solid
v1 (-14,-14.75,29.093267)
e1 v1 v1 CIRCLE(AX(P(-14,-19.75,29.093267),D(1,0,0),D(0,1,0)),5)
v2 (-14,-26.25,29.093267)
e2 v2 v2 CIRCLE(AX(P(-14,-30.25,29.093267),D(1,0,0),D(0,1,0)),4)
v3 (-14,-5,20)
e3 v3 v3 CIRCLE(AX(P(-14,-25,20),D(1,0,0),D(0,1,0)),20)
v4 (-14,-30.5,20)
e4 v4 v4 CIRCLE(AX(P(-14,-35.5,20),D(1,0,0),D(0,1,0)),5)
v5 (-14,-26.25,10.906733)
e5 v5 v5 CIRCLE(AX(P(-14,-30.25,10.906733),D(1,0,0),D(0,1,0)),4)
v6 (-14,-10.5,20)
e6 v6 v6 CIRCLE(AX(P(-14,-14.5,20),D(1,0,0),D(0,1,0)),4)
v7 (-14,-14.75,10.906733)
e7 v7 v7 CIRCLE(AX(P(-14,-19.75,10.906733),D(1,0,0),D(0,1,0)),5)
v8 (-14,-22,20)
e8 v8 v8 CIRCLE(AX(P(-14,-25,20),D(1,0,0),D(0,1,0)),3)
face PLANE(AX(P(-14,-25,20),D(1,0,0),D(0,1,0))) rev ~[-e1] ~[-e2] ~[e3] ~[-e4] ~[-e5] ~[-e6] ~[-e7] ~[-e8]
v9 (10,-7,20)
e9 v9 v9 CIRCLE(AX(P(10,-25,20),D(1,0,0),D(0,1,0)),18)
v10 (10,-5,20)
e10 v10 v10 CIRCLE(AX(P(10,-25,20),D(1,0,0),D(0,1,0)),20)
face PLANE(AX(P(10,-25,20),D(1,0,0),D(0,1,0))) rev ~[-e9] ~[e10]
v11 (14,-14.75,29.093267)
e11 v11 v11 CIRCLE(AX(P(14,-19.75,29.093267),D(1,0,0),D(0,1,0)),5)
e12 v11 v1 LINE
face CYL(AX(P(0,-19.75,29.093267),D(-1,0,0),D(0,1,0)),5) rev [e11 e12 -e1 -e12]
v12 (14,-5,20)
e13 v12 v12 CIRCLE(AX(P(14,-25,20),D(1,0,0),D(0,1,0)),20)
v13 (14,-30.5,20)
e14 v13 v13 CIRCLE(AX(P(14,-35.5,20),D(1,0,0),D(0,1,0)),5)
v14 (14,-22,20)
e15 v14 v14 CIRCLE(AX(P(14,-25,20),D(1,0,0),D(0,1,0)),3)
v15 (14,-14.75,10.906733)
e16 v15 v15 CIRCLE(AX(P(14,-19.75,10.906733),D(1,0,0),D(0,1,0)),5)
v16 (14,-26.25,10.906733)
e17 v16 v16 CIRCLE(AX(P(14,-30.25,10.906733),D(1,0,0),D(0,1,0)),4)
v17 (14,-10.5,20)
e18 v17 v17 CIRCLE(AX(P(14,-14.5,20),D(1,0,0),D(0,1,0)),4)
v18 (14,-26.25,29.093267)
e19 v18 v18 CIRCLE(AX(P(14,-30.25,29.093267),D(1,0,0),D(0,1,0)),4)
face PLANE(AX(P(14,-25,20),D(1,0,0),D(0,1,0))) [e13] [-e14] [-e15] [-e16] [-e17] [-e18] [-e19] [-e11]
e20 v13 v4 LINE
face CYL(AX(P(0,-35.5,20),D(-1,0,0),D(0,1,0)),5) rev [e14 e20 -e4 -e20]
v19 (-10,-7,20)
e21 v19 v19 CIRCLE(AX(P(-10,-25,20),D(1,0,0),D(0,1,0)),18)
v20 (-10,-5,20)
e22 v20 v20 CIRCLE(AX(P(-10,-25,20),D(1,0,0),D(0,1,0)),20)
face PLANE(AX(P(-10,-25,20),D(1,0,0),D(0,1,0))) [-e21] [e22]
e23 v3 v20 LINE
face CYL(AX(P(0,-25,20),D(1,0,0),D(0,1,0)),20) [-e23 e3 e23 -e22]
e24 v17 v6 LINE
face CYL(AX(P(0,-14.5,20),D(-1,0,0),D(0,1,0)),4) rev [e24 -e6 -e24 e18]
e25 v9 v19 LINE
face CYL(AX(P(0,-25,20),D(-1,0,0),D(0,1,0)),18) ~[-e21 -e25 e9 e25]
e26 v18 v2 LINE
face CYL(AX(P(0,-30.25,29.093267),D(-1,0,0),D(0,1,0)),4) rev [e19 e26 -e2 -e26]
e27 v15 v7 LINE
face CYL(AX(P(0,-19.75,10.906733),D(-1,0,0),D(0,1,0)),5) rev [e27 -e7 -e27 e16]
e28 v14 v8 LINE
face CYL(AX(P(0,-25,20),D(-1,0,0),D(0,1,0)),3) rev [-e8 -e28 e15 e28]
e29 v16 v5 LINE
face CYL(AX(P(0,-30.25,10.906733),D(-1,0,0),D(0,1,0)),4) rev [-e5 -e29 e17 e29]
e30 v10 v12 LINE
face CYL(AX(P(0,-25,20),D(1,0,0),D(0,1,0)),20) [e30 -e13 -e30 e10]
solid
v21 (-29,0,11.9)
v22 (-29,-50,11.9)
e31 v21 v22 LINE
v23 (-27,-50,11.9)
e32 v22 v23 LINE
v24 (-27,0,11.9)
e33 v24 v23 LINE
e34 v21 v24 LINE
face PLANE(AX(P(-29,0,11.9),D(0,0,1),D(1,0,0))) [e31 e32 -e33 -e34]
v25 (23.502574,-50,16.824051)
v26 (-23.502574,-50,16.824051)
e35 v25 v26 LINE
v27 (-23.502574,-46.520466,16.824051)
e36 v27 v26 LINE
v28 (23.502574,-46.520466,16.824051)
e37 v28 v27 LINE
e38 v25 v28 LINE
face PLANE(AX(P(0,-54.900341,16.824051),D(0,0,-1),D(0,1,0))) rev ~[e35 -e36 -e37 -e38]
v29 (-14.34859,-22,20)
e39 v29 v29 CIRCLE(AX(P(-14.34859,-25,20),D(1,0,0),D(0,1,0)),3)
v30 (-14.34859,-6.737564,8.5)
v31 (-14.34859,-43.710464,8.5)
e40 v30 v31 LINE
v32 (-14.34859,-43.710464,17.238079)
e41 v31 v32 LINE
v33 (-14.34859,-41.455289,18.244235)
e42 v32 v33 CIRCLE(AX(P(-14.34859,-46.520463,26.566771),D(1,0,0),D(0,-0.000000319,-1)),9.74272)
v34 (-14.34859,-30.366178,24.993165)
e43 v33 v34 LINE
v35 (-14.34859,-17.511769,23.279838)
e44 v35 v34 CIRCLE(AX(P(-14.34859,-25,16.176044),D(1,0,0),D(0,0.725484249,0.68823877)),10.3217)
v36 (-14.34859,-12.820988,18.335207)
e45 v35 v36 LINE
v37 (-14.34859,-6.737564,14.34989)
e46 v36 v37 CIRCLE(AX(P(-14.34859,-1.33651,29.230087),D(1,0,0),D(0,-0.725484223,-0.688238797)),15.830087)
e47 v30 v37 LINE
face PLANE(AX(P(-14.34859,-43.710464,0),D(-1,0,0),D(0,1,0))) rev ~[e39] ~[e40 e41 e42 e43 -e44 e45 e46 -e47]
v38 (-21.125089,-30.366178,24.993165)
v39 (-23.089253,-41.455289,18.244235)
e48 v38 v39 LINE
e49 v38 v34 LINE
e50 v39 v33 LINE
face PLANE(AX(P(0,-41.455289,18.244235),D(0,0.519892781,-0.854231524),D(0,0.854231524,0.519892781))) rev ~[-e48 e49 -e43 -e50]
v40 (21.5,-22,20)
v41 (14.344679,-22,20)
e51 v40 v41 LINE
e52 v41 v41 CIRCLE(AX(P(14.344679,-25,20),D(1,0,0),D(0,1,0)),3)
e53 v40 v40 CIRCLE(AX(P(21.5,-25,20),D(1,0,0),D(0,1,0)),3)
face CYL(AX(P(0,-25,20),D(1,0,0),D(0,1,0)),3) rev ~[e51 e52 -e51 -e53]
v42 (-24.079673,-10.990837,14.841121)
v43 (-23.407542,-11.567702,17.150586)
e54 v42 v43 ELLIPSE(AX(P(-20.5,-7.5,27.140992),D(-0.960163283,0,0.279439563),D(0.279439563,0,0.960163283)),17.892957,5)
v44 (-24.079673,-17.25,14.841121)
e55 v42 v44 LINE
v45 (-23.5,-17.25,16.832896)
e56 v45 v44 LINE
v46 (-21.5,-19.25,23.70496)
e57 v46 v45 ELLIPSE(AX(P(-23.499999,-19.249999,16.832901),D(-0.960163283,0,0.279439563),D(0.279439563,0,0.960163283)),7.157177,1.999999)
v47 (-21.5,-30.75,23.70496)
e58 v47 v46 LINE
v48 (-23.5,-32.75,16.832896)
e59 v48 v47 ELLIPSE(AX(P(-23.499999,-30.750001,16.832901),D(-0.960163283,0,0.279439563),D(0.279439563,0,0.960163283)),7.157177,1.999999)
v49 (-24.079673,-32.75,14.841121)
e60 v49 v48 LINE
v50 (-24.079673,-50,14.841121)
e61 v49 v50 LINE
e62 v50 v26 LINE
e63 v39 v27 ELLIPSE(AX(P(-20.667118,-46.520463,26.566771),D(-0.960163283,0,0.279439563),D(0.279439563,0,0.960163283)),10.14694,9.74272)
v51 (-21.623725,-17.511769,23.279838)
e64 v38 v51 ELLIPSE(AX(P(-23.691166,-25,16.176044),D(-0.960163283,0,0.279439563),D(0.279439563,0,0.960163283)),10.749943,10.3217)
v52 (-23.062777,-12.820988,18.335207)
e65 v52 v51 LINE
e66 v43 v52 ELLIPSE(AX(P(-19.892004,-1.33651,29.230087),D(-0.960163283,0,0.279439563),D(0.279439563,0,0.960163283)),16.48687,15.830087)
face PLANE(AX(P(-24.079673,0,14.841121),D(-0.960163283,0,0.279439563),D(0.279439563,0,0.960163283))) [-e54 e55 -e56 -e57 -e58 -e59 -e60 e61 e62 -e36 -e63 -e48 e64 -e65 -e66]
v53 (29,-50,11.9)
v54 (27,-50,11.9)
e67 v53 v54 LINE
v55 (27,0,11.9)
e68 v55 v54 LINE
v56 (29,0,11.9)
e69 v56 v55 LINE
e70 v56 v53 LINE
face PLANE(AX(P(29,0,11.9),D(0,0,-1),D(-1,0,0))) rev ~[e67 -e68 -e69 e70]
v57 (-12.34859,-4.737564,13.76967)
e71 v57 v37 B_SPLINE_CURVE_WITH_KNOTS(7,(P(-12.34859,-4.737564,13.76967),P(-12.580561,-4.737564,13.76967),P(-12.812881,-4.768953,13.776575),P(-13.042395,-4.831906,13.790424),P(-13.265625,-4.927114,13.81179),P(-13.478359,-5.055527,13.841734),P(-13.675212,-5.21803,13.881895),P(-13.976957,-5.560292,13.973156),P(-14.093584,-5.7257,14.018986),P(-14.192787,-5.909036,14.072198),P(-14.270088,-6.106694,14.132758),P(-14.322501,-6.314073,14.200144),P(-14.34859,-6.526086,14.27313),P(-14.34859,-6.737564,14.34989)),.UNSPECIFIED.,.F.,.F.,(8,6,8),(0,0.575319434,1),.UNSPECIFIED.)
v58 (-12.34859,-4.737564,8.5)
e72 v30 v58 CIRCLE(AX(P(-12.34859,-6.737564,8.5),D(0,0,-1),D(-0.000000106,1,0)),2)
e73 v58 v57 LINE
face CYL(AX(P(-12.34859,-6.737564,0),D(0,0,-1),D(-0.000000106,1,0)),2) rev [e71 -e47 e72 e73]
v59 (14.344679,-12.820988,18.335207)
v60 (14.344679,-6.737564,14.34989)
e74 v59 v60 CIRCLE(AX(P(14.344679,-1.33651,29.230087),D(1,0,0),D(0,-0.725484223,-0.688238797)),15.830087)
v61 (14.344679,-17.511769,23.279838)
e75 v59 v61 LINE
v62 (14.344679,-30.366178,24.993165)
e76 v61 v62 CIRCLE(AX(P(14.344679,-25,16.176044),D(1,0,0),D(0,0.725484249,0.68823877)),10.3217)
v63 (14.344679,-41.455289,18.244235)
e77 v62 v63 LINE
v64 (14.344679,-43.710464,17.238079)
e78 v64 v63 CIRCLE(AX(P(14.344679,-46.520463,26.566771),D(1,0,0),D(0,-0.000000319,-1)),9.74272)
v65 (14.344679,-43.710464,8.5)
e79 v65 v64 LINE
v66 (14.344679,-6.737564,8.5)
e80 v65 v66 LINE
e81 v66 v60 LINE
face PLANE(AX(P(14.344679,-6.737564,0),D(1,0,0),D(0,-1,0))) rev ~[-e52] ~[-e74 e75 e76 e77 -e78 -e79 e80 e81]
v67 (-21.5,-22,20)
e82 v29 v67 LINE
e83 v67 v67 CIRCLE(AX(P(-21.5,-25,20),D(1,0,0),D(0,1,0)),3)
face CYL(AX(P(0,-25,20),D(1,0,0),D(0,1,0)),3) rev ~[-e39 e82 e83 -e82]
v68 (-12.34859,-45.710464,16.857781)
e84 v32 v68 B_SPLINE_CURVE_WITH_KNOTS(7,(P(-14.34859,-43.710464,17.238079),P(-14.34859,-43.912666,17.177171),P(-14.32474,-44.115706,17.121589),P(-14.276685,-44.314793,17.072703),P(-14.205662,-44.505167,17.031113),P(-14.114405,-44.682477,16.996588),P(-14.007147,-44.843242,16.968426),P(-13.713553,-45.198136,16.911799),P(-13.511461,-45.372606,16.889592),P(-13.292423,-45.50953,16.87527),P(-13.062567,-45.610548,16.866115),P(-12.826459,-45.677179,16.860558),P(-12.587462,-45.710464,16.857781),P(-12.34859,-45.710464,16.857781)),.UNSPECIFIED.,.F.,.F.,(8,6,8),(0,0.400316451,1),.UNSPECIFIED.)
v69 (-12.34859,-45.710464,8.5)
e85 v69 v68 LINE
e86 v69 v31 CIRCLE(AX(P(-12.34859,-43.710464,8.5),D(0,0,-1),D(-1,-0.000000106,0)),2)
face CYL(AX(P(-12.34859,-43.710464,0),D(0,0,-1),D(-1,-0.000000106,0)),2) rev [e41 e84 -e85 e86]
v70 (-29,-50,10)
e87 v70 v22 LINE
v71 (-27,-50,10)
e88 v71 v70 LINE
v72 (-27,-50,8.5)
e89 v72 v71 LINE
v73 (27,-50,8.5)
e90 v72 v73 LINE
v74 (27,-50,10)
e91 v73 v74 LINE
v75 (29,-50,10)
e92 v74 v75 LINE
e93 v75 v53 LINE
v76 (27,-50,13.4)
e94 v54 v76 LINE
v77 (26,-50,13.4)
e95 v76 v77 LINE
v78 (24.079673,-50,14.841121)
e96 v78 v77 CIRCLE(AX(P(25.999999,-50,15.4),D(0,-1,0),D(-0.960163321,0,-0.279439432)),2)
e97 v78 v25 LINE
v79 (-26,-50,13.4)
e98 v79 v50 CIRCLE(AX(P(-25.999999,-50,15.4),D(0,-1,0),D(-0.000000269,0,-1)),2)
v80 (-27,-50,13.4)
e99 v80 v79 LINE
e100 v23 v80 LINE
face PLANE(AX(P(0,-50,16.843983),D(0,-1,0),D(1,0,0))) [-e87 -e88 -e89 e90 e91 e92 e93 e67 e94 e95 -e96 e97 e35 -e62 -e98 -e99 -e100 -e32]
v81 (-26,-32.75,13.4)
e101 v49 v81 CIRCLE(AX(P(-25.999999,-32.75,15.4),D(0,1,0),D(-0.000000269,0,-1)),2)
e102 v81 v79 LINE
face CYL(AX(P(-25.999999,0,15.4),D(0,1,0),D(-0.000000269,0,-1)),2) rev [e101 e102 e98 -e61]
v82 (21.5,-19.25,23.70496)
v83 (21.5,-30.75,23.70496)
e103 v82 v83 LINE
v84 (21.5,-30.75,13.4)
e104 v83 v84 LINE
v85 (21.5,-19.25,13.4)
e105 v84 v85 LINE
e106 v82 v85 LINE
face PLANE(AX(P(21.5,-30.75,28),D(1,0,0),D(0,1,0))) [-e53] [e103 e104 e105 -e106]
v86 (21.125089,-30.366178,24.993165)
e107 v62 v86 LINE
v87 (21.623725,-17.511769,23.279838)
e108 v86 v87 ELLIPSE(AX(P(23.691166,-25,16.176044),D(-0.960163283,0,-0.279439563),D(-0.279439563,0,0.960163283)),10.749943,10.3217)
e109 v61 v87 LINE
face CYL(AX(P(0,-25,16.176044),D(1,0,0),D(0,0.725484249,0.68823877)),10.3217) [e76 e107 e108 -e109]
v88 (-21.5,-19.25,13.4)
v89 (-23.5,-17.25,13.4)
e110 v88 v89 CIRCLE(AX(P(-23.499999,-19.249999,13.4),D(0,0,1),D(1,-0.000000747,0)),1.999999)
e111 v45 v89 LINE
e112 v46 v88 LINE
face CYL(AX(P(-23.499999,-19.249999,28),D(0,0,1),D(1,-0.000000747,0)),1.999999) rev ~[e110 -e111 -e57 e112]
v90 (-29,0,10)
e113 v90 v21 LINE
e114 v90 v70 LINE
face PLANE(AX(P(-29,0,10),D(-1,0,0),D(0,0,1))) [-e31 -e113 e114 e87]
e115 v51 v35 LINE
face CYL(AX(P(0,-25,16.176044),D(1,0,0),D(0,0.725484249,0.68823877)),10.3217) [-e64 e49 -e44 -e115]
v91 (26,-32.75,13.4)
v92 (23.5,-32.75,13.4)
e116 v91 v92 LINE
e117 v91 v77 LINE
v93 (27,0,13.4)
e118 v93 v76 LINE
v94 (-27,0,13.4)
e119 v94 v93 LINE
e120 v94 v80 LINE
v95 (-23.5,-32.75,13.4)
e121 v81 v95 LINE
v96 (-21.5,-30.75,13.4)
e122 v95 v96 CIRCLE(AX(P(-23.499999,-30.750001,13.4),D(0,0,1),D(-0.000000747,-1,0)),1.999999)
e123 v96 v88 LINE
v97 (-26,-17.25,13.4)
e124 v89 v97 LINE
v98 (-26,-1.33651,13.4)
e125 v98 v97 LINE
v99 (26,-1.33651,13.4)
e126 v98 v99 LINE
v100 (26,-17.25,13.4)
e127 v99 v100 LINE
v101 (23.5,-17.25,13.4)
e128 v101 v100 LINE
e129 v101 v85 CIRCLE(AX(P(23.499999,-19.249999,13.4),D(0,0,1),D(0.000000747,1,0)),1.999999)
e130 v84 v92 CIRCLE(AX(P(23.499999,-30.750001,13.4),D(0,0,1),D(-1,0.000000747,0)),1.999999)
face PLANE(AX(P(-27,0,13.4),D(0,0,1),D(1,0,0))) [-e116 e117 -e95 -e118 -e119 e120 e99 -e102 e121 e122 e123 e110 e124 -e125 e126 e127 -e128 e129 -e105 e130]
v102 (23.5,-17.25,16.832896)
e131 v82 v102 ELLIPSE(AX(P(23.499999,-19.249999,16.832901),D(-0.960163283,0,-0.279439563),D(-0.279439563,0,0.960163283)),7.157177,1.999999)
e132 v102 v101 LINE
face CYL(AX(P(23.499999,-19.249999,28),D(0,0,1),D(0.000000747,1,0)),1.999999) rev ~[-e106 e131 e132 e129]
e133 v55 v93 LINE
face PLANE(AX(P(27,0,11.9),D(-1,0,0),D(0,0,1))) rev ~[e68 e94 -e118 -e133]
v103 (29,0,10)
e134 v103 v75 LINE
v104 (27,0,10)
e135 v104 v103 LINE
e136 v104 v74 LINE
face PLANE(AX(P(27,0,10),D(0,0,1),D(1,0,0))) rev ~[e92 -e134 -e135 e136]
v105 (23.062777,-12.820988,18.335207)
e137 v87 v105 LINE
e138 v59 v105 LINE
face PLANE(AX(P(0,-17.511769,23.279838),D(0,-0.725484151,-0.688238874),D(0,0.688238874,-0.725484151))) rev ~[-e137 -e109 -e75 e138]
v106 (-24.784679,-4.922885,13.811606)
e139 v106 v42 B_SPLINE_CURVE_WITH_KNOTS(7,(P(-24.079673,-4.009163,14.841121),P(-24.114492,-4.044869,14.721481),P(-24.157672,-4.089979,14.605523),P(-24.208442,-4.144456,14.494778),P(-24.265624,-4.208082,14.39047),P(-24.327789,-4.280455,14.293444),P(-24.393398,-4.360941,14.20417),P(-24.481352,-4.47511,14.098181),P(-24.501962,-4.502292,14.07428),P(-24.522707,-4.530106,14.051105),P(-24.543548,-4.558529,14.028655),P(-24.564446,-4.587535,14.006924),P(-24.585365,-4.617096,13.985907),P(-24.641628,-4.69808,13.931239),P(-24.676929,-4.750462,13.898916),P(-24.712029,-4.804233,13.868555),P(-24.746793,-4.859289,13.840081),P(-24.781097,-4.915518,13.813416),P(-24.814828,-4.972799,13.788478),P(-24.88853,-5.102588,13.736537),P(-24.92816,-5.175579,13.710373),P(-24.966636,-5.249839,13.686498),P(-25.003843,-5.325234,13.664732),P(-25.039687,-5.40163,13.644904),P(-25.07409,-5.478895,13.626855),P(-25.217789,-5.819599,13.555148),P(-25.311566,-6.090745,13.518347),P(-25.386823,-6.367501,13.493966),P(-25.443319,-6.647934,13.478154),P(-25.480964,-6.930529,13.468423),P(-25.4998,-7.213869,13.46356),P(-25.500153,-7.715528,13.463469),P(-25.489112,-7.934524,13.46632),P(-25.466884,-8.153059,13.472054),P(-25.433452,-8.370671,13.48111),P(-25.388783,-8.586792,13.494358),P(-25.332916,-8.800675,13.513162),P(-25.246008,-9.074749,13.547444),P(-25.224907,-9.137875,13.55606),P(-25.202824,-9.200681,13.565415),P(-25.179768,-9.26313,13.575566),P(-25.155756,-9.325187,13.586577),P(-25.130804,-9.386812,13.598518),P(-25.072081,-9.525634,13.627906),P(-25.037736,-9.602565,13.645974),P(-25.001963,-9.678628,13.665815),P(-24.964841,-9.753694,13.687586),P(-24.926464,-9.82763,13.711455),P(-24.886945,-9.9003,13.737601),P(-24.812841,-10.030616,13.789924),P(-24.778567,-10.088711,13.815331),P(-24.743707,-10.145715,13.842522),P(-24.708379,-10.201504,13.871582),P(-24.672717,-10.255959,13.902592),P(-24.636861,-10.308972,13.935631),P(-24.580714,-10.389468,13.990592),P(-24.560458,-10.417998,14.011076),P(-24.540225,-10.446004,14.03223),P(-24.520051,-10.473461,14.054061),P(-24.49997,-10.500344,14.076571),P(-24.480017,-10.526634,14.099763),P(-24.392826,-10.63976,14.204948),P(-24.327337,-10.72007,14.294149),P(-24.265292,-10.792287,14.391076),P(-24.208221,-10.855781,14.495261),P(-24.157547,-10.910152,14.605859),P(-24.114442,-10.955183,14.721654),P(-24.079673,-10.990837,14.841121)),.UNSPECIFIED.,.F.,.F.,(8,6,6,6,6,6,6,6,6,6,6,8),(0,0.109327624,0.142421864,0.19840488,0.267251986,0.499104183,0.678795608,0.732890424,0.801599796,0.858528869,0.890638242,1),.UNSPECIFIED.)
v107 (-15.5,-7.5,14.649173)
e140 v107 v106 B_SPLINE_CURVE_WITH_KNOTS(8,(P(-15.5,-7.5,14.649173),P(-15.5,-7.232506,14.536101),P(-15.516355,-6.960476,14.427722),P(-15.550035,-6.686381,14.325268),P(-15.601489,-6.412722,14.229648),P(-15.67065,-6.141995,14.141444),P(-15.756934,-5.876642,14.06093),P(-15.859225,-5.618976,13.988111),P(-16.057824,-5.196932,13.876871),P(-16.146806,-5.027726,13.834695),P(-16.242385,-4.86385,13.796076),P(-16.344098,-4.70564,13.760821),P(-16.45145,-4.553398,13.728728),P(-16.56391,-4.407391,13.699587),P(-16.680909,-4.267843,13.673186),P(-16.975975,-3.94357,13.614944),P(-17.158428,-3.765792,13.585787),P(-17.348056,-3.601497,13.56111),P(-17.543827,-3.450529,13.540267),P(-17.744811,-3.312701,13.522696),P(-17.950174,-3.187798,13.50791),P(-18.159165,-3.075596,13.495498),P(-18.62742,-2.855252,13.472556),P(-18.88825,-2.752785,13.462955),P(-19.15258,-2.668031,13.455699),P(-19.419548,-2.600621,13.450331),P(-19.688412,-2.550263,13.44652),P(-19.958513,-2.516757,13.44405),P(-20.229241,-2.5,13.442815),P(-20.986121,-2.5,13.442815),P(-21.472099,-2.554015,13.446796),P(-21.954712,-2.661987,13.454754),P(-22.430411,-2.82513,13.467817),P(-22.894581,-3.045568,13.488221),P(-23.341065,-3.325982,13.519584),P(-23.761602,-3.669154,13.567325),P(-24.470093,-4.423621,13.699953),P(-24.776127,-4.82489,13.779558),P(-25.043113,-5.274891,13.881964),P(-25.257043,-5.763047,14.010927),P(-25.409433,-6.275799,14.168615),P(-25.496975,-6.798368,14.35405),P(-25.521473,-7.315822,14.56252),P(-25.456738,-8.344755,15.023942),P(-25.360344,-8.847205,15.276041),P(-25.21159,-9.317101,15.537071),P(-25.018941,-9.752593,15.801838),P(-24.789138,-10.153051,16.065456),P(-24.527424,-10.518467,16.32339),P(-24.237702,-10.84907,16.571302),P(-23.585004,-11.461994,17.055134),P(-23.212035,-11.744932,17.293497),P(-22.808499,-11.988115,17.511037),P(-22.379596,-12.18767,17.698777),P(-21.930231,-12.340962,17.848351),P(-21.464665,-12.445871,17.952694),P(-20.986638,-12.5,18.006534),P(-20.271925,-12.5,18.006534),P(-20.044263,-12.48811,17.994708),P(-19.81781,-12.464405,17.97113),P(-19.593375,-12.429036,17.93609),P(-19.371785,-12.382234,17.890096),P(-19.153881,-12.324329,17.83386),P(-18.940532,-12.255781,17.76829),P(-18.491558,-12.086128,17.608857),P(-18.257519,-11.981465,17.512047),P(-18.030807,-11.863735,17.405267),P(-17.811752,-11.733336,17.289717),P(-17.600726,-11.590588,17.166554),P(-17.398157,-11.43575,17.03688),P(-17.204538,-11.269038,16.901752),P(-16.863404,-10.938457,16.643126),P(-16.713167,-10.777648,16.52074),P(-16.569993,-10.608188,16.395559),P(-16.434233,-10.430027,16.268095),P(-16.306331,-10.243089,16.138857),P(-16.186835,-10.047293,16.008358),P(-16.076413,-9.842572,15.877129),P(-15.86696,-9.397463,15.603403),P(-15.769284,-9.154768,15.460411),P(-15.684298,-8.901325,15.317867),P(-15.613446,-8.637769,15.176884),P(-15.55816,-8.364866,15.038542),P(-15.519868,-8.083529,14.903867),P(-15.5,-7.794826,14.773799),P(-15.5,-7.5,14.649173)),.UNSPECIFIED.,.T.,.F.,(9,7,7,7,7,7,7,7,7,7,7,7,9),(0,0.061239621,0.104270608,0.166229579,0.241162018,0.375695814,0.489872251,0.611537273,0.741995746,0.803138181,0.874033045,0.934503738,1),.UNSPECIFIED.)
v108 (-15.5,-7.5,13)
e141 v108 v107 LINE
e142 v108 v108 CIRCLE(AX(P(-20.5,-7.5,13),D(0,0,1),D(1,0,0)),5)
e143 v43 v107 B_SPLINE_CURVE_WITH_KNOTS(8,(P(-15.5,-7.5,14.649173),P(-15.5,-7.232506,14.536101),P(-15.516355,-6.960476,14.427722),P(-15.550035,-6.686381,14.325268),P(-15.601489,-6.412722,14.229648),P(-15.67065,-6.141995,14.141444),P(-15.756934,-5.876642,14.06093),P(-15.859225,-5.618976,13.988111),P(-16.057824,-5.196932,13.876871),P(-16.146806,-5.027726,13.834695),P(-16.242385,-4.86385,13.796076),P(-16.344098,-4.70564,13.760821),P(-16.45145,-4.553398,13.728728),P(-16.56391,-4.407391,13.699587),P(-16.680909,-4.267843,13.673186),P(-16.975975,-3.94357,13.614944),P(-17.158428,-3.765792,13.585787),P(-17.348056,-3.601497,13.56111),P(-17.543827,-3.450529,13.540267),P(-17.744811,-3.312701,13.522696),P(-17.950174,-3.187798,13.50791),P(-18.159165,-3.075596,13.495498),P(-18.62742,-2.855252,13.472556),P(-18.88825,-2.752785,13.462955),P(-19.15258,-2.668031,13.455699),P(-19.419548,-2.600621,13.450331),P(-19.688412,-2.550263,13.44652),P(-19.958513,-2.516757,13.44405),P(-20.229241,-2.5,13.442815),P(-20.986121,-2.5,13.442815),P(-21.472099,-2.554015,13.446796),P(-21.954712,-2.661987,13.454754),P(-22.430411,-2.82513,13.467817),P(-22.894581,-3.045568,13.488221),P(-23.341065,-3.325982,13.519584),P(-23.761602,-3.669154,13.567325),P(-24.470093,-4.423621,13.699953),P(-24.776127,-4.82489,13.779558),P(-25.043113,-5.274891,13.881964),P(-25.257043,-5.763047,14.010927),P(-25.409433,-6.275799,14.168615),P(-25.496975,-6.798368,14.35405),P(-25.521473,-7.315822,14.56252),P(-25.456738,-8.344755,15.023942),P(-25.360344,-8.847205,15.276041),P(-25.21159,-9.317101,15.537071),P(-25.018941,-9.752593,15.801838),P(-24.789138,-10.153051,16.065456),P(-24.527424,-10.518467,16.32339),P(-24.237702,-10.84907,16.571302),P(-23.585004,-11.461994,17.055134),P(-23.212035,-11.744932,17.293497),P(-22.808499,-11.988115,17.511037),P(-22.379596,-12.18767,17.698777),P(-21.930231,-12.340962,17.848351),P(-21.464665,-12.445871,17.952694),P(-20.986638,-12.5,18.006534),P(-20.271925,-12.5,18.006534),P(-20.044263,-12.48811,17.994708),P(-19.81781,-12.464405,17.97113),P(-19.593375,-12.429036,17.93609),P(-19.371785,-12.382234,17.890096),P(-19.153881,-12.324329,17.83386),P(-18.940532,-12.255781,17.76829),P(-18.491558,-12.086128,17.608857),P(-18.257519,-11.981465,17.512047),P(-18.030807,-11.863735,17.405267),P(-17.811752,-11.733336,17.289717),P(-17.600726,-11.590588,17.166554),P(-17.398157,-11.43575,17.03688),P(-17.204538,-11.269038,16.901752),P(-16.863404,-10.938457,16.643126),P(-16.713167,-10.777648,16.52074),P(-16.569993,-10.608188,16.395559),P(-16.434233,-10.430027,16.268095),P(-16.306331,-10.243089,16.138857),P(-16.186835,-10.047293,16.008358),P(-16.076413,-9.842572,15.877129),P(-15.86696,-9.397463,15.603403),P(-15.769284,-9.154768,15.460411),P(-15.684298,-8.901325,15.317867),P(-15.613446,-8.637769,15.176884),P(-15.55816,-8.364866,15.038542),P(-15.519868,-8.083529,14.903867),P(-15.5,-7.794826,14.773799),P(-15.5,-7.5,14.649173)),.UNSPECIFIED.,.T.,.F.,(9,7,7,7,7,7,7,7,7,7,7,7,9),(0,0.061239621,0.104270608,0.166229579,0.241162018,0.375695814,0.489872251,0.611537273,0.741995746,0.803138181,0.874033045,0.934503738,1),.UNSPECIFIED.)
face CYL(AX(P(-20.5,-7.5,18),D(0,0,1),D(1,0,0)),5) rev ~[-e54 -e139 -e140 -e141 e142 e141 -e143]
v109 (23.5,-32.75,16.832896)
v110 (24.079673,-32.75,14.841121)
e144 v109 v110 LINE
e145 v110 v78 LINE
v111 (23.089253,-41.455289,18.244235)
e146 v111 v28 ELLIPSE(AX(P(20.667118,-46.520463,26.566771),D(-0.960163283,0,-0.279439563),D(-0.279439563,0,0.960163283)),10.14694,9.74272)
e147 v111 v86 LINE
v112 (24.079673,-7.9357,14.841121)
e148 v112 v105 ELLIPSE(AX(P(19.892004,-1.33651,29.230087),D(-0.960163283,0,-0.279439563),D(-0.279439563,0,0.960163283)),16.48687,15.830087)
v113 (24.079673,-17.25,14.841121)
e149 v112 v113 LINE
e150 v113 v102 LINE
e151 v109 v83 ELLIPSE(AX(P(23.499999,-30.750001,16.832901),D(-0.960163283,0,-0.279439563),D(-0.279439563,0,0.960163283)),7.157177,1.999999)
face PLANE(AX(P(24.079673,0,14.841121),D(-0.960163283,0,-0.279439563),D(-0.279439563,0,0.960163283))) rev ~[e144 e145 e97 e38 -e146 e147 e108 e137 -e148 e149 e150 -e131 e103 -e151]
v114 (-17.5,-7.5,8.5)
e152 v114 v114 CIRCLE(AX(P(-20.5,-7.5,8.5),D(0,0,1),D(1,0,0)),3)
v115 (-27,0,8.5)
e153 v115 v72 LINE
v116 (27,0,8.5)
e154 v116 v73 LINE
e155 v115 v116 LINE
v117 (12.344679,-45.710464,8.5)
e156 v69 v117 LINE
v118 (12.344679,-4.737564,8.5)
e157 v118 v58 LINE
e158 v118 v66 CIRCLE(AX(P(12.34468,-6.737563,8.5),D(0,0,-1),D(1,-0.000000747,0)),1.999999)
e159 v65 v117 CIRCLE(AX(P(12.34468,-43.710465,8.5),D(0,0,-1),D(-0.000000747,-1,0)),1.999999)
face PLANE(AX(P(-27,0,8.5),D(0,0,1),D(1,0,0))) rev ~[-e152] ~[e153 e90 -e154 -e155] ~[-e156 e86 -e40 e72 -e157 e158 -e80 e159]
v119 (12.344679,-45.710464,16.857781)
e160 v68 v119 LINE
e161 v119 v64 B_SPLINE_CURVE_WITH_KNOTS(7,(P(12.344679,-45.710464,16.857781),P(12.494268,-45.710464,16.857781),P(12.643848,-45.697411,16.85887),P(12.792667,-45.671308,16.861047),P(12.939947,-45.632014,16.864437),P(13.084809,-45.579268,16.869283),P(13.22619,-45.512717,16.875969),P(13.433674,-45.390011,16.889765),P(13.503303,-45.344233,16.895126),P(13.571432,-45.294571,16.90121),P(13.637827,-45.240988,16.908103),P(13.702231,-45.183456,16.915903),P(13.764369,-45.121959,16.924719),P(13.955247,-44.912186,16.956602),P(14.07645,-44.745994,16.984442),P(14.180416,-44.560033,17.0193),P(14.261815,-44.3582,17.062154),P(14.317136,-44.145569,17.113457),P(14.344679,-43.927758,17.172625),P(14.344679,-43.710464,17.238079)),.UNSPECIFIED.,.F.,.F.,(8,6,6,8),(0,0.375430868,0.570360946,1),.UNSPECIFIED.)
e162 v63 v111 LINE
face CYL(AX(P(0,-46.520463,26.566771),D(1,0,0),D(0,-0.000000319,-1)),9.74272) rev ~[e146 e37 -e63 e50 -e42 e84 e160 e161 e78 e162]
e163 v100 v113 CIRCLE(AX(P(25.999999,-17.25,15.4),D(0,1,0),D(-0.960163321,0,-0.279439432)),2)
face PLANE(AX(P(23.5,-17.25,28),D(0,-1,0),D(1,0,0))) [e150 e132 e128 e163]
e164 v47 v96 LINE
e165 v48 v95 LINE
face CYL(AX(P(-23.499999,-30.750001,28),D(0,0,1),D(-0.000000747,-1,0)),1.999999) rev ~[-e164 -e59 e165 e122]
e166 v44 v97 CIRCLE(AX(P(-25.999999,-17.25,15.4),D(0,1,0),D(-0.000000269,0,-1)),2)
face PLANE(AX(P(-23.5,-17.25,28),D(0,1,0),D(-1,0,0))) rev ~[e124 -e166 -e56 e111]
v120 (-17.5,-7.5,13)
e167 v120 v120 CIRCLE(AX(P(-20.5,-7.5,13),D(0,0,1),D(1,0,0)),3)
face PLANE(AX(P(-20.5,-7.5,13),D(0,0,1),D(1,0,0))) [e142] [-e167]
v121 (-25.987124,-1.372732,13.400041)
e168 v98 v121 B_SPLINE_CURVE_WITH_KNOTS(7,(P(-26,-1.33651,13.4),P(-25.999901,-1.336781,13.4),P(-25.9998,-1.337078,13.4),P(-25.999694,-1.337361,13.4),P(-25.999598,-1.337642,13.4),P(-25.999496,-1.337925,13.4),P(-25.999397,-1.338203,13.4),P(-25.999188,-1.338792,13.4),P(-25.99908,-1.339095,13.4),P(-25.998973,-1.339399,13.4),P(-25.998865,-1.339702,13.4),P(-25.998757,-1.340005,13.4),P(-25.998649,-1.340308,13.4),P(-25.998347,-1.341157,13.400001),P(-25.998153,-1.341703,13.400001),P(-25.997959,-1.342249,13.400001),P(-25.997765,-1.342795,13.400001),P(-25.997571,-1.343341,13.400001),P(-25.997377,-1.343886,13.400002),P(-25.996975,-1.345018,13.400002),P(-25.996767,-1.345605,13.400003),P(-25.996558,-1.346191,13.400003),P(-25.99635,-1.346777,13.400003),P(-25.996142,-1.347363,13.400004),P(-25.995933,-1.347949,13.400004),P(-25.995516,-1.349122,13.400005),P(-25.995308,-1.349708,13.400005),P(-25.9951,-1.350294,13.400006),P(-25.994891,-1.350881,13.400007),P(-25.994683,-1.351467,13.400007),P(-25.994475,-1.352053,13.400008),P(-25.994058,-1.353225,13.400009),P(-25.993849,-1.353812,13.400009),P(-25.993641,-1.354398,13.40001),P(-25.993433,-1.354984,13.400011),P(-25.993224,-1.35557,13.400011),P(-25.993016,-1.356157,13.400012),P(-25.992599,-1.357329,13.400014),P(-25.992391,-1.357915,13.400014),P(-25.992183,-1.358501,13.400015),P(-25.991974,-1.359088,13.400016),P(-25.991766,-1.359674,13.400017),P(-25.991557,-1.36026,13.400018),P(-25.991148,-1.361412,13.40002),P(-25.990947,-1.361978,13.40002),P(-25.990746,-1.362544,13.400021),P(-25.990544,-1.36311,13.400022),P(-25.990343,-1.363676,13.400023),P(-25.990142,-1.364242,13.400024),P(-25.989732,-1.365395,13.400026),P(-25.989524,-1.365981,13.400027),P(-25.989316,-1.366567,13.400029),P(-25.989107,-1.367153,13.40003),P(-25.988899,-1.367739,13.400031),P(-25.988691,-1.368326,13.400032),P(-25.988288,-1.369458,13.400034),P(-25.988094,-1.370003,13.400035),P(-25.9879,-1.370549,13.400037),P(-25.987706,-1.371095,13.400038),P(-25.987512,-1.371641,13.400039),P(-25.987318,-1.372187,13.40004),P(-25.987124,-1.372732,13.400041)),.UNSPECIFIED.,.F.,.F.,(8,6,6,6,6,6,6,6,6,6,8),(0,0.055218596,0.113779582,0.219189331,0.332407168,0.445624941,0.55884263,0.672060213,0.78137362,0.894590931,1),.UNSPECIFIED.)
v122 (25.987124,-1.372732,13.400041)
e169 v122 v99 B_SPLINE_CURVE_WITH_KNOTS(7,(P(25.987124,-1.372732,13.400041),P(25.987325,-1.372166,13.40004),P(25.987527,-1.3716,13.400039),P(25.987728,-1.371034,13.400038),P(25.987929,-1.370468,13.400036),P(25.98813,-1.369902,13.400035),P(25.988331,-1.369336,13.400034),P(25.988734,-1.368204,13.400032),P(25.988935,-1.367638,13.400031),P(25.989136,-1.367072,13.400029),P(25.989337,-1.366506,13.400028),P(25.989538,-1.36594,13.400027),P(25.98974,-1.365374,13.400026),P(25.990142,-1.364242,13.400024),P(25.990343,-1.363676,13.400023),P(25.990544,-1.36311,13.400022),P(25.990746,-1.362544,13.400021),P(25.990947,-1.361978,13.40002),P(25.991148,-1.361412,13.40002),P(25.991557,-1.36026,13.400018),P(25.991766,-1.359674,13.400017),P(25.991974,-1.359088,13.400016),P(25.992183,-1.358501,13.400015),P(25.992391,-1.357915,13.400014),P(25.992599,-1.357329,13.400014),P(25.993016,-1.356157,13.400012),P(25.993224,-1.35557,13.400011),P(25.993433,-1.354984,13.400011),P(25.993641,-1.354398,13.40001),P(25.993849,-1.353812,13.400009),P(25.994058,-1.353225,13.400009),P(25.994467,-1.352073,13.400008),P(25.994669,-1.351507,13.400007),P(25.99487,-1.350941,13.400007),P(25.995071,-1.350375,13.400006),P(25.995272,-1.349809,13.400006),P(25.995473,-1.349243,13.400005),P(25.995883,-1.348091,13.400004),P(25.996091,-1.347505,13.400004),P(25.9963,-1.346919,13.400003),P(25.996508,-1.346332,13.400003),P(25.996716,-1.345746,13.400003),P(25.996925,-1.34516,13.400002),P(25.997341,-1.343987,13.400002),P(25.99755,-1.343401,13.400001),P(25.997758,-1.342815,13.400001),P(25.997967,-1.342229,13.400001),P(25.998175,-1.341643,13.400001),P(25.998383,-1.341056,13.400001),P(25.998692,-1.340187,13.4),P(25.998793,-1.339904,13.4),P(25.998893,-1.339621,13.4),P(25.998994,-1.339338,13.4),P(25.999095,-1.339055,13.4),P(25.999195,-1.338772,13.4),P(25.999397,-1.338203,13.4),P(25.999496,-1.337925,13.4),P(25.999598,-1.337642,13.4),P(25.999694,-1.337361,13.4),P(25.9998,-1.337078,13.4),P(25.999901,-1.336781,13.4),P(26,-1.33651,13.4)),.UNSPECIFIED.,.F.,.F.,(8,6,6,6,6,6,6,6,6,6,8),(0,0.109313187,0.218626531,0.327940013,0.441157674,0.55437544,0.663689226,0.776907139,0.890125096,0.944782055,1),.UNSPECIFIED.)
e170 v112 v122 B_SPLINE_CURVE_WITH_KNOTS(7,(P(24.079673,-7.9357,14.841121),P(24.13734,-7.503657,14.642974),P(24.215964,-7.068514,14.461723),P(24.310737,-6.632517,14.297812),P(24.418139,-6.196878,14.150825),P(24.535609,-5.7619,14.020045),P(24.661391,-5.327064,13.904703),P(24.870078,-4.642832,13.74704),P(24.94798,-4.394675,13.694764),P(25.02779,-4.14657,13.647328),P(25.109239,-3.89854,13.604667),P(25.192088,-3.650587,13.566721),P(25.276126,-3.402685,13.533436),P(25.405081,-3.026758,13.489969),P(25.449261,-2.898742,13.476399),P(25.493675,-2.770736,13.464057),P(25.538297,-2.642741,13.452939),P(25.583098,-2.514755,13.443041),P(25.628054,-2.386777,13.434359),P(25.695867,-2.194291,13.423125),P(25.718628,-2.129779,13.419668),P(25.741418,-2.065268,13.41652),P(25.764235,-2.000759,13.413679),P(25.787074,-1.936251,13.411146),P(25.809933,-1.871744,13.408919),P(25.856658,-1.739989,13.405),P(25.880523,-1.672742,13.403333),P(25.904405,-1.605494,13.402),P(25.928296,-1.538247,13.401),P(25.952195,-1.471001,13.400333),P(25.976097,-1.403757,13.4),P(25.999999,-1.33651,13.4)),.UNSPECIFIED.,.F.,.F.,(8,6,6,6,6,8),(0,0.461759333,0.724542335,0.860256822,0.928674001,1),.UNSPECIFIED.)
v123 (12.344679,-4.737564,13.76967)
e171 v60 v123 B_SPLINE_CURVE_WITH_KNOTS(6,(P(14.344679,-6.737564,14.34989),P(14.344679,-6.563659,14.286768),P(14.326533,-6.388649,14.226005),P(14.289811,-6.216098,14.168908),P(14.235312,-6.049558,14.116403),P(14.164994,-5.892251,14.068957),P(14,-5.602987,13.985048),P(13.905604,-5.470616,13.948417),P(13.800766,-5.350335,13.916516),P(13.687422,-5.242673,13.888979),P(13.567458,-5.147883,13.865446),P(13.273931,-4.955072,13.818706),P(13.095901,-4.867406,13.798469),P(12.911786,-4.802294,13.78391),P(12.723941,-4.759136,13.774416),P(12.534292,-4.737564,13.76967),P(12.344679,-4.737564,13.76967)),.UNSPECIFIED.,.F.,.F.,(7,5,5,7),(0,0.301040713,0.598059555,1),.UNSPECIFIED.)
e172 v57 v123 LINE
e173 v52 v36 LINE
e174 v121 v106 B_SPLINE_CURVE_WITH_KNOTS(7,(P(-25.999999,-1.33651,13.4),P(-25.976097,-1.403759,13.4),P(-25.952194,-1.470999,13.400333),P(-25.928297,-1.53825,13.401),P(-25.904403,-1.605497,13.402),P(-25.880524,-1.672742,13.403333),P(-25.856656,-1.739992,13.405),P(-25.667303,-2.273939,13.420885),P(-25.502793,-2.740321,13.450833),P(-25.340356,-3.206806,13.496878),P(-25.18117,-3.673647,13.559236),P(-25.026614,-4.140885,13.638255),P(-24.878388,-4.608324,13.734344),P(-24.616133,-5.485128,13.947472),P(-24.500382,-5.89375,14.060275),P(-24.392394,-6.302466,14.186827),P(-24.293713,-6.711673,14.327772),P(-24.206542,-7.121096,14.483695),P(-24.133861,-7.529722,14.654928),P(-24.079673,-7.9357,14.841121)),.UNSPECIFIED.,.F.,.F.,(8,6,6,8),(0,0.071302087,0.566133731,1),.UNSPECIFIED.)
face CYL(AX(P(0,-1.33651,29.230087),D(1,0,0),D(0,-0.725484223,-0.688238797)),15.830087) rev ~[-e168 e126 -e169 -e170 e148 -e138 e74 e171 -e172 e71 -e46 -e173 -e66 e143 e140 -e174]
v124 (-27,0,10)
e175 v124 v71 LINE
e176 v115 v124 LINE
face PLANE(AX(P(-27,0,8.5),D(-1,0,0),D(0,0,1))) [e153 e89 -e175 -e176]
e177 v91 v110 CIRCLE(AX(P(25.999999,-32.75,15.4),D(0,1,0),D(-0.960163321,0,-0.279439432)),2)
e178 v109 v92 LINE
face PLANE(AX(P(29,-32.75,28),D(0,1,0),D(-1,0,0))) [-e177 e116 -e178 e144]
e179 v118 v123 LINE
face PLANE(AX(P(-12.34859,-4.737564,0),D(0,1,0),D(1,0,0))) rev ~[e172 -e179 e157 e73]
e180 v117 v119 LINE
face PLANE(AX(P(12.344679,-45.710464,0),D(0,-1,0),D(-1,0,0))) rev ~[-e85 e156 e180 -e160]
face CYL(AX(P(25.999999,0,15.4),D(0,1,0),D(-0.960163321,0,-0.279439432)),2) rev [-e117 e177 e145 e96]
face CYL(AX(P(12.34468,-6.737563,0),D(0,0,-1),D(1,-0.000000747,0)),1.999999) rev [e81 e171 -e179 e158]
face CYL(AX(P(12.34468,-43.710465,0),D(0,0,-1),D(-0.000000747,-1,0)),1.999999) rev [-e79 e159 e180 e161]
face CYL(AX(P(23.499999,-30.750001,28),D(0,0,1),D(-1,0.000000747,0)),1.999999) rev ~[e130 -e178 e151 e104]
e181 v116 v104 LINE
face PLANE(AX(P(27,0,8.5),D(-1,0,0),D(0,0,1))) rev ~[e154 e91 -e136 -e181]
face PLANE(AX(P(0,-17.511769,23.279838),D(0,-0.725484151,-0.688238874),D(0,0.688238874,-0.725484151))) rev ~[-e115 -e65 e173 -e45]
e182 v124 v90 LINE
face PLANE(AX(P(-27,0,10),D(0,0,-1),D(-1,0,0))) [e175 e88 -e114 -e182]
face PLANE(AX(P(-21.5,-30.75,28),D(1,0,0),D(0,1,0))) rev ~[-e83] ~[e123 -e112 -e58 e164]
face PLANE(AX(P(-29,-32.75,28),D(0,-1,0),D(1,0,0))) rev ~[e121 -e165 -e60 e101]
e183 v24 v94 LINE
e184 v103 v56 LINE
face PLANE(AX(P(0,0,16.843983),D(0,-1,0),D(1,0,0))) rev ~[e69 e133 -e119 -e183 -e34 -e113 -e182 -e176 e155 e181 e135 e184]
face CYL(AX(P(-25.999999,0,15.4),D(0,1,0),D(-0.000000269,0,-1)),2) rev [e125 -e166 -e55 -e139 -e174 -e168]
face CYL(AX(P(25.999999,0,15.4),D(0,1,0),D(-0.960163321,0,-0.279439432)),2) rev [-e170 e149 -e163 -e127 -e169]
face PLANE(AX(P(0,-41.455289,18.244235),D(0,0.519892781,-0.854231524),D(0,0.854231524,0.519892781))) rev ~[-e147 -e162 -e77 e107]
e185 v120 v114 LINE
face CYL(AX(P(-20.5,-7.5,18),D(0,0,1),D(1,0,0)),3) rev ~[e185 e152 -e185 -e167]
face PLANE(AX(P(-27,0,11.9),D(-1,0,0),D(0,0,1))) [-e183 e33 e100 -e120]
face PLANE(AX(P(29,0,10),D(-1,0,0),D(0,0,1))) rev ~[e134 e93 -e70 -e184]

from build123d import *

# Parameters (mm, degrees)
SKETCH001_R          = 20
SKETCH001_R_2        = 3
SKETCH001_R_3        = 5
SKETCH001_R_4        = 4
PAD_DEPTH            = 14
SKETCH002_R          = 20
SKETCH002_R_2        = 18
POCKET_DEPTH         = 10
PAD001_DEPTH         = 50
SKETCH004_R          = 3
POCKET001_DEPTH      = 29.001
POCKET001_DEPTH_BACK = -29.001
POCKET002_DEPTH      = 14.6
POCKET003_DEPTH      = 26.498744
POCKET003_DEPTH_BACK = 0.001
SKETCH007_R          = 5
POCKET004_DEPTH      = 5
SKETCH008_R          = 3
POCKET005_DEPTH      = 9.501


with BuildPart() as spoolbody:
    # Sketch001 → Pad (new body, symmetric)
    with BuildSketch(Plane.YZ):
        with Locations((-25, 20)):
            Circle(SKETCH001_R)
        with Locations((-25, 20)):
            Circle(SKETCH001_R_2, mode=Mode.SUBTRACT)
        with Locations((-19.75, 29.093267)):
            Circle(SKETCH001_R_3, mode=Mode.SUBTRACT)
        with Locations((-14.5, 20)):
            Circle(SKETCH001_R_4, mode=Mode.SUBTRACT)
        with Locations((-19.75, 10.906733)):
            Circle(SKETCH001_R_3, mode=Mode.SUBTRACT)
        with Locations((-30.25, 10.906733)):
            Circle(SKETCH001_R_4, mode=Mode.SUBTRACT)
        with Locations((-35.5, 20)):
            Circle(SKETCH001_R_3, mode=Mode.SUBTRACT)
        with Locations((-30.25, 29.093267)):
            Circle(SKETCH001_R_4, mode=Mode.SUBTRACT)
    extrude(amount=PAD_DEPTH, both=True)

    # Sketch002 → Pocket (cut, symmetric)
    with BuildSketch(Plane.YZ):
        with Locations((-25, 20)):
            Circle(SKETCH002_R)
        with Locations((-25, 20)):
            Circle(SKETCH002_R_2, mode=Mode.SUBTRACT)
    extrude(amount=POCKET_DEPTH, both=True, mode=Mode.SUBTRACT)


with BuildPart() as pusherbody:
    # Sketch003 → Pad001 (new body)
    with BuildSketch(Plane.XZ):
        with BuildLine():
            Line((27, 8.5), (27, 10))
            Line((27, 10), (29, 10))
            Line((29, 10), (29, 11.9))
            Line((29, 11.9), (27, 11.9))
            Line((27, 11.9), (27, 13.4))
            Line((27, 13.4), (26, 13.4))
            ThreePointArc((24.079673, 14.841121), (24.799533, 13.80035), (26, 13.4))
            Line((24.079673, 14.841121), (20.25, 28))
            Line((20.25, 28), (14.25, 28))
            Line((14.25, 28), (-14.25, 28))
            Line((-20.25, 28), (-14.25, 28))
            Line((-24.079673, 14.841121), (-20.25, 28))
            ThreePointArc((-26, 13.4), (-24.799533, 13.80035), (-24.079673, 14.841121))
            Line((-27, 13.4), (-26, 13.4))
            Line((-27, 11.9), (-27, 13.4))
            Line((-29, 11.9), (-27, 11.9))
            Line((-29, 10), (-29, 11.9))
            Line((-27, 10), (-29, 10))
            Line((-27, 8.5), (-27, 10))
            Line((-27, 8.5), (27, 8.5))
        make_face()
    extrude(amount=PAD001_DEPTH)

    # Sketch004 → Pocket001 (cut, two sides)
    with BuildSketch(Plane.YZ) as pocket001_sk:
        with Locations((-25, 20)):
            Circle(SKETCH004_R)
        with BuildLine():
            Line((-41.455289, 18.244235), (-30.366178, 24.993165))
            ThreePointArc((-17.511769, 23.279838), (-23.636311, 26.407263), (-30.366178, 24.993165))
            Line((-17.511769, 23.279838), (-12.820988, 18.335207))
            ThreePointArc((-12.820988, 18.335207), (-7.5865, 14.686041), (-1.33651, 13.4))
            Line((-1.33651, 13.4), (5.509181, 13.4))
            Line((5.509181, 13.4), (5.509181, 39.590982))
            Line((5.509181, 39.590982), (-54.900341, 39.590982))
            Line((-54.900341, 39.590982), (-54.900341, 16.824051))
            Line((-54.900341, 16.824051), (-46.520466, 16.824051))
            ThreePointArc((-46.520466, 16.824051), (-43.890212, 17.185813), (-41.455289, 18.244235))
        make_face()
    extrude(amount=-POCKET001_DEPTH, mode=Mode.SUBTRACT)
    extrude(pocket001_sk.sketch, amount=-POCKET001_DEPTH_BACK, mode=Mode.SUBTRACT)

    # Sketch005 (on DatumPlane) → Pocket002 (cut)
    with BuildSketch(Plane(origin=(0, 0, 28), x_dir=(-1, 0, 0), z_dir=(0, 0, 1))):
        with BuildLine():
            Line((-29, 32.75), (-23.5, 32.75))
            ThreePointArc((-21.5, 30.75), (-22.085786, 32.164214), (-23.5, 32.75))
            Line((-21.5, 30.75), (-21.5, 19.25))
            ThreePointArc((-23.5, 17.25), (-22.085786, 17.835786), (-21.5, 19.25))
            Line((-23.5, 17.25), (-29, 17.25))
            Line((-29, 17.25), (-29, 32.75))
        make_face()
        with BuildLine():
            Line((29, 32.75), (23.5, 32.75))
            ThreePointArc((23.5, 32.75), (22.085786, 32.164214), (21.5, 30.75))
            Line((21.5, 30.75), (21.5, 19.25))
            ThreePointArc((21.5, 19.25), (22.085786, 17.835786), (23.5, 17.25))
            Line((23.5, 17.25), (29, 17.25))
            Line((29, 17.25), (29, 32.75))
        make_face()
    extrude(amount=-POCKET002_DEPTH, mode=Mode.SUBTRACT)

    # Sketch006 → Pocket003 (cut, two sides)
    with BuildSketch(Plane.XY) as pocket003_sk:
        with BuildLine():
            Line((-12.34859, -4.737564), (12.344679, -4.737564))
            ThreePointArc((14.344679, -6.737564), (13.758893, -5.32335), (12.344679, -4.737564))
            Line((14.344679, -6.737564), (14.344679, -43.710464))
            ThreePointArc((12.344679, -45.710464), (13.758893, -45.124678), (14.344679, -43.710464))
            Line((12.344679, -45.710464), (-12.34859, -45.710464))
            ThreePointArc((-14.34859, -43.710464), (-13.762803, -45.124678), (-12.34859, -45.710464))
            Line((-14.34859, -43.710464), (-14.34859, -6.737564))
            ThreePointArc((-12.34859, -4.737564), (-13.762803, -5.32335), (-14.34859, -6.737564))
        make_face()
    extrude(amount=POCKET003_DEPTH, mode=Mode.SUBTRACT)
    extrude(pocket003_sk.sketch, amount=-POCKET003_DEPTH_BACK, mode=Mode.SUBTRACT)

    # Sketch007 (on DatumPlane) → Pocket004 (cut, symmetric)
    with BuildSketch(Plane.XY.offset(18)):
        with Locations((-20.5, -7.5)):
            Circle(SKETCH007_R)
    extrude(amount=POCKET004_DEPTH, both=True, mode=Mode.SUBTRACT)

    # Sketch008 (on DatumPlane) → Pocket005 (cut, through all)
    with BuildSketch(Plane.XY.offset(18)):
        with Locations((-20.5, -7.5)):
            Circle(SKETCH008_R)
    extrude(amount=-POCKET005_DEPTH, mode=Mode.SUBTRACT)


solid = Compound([spoolbody.part, pusherbody.part])
